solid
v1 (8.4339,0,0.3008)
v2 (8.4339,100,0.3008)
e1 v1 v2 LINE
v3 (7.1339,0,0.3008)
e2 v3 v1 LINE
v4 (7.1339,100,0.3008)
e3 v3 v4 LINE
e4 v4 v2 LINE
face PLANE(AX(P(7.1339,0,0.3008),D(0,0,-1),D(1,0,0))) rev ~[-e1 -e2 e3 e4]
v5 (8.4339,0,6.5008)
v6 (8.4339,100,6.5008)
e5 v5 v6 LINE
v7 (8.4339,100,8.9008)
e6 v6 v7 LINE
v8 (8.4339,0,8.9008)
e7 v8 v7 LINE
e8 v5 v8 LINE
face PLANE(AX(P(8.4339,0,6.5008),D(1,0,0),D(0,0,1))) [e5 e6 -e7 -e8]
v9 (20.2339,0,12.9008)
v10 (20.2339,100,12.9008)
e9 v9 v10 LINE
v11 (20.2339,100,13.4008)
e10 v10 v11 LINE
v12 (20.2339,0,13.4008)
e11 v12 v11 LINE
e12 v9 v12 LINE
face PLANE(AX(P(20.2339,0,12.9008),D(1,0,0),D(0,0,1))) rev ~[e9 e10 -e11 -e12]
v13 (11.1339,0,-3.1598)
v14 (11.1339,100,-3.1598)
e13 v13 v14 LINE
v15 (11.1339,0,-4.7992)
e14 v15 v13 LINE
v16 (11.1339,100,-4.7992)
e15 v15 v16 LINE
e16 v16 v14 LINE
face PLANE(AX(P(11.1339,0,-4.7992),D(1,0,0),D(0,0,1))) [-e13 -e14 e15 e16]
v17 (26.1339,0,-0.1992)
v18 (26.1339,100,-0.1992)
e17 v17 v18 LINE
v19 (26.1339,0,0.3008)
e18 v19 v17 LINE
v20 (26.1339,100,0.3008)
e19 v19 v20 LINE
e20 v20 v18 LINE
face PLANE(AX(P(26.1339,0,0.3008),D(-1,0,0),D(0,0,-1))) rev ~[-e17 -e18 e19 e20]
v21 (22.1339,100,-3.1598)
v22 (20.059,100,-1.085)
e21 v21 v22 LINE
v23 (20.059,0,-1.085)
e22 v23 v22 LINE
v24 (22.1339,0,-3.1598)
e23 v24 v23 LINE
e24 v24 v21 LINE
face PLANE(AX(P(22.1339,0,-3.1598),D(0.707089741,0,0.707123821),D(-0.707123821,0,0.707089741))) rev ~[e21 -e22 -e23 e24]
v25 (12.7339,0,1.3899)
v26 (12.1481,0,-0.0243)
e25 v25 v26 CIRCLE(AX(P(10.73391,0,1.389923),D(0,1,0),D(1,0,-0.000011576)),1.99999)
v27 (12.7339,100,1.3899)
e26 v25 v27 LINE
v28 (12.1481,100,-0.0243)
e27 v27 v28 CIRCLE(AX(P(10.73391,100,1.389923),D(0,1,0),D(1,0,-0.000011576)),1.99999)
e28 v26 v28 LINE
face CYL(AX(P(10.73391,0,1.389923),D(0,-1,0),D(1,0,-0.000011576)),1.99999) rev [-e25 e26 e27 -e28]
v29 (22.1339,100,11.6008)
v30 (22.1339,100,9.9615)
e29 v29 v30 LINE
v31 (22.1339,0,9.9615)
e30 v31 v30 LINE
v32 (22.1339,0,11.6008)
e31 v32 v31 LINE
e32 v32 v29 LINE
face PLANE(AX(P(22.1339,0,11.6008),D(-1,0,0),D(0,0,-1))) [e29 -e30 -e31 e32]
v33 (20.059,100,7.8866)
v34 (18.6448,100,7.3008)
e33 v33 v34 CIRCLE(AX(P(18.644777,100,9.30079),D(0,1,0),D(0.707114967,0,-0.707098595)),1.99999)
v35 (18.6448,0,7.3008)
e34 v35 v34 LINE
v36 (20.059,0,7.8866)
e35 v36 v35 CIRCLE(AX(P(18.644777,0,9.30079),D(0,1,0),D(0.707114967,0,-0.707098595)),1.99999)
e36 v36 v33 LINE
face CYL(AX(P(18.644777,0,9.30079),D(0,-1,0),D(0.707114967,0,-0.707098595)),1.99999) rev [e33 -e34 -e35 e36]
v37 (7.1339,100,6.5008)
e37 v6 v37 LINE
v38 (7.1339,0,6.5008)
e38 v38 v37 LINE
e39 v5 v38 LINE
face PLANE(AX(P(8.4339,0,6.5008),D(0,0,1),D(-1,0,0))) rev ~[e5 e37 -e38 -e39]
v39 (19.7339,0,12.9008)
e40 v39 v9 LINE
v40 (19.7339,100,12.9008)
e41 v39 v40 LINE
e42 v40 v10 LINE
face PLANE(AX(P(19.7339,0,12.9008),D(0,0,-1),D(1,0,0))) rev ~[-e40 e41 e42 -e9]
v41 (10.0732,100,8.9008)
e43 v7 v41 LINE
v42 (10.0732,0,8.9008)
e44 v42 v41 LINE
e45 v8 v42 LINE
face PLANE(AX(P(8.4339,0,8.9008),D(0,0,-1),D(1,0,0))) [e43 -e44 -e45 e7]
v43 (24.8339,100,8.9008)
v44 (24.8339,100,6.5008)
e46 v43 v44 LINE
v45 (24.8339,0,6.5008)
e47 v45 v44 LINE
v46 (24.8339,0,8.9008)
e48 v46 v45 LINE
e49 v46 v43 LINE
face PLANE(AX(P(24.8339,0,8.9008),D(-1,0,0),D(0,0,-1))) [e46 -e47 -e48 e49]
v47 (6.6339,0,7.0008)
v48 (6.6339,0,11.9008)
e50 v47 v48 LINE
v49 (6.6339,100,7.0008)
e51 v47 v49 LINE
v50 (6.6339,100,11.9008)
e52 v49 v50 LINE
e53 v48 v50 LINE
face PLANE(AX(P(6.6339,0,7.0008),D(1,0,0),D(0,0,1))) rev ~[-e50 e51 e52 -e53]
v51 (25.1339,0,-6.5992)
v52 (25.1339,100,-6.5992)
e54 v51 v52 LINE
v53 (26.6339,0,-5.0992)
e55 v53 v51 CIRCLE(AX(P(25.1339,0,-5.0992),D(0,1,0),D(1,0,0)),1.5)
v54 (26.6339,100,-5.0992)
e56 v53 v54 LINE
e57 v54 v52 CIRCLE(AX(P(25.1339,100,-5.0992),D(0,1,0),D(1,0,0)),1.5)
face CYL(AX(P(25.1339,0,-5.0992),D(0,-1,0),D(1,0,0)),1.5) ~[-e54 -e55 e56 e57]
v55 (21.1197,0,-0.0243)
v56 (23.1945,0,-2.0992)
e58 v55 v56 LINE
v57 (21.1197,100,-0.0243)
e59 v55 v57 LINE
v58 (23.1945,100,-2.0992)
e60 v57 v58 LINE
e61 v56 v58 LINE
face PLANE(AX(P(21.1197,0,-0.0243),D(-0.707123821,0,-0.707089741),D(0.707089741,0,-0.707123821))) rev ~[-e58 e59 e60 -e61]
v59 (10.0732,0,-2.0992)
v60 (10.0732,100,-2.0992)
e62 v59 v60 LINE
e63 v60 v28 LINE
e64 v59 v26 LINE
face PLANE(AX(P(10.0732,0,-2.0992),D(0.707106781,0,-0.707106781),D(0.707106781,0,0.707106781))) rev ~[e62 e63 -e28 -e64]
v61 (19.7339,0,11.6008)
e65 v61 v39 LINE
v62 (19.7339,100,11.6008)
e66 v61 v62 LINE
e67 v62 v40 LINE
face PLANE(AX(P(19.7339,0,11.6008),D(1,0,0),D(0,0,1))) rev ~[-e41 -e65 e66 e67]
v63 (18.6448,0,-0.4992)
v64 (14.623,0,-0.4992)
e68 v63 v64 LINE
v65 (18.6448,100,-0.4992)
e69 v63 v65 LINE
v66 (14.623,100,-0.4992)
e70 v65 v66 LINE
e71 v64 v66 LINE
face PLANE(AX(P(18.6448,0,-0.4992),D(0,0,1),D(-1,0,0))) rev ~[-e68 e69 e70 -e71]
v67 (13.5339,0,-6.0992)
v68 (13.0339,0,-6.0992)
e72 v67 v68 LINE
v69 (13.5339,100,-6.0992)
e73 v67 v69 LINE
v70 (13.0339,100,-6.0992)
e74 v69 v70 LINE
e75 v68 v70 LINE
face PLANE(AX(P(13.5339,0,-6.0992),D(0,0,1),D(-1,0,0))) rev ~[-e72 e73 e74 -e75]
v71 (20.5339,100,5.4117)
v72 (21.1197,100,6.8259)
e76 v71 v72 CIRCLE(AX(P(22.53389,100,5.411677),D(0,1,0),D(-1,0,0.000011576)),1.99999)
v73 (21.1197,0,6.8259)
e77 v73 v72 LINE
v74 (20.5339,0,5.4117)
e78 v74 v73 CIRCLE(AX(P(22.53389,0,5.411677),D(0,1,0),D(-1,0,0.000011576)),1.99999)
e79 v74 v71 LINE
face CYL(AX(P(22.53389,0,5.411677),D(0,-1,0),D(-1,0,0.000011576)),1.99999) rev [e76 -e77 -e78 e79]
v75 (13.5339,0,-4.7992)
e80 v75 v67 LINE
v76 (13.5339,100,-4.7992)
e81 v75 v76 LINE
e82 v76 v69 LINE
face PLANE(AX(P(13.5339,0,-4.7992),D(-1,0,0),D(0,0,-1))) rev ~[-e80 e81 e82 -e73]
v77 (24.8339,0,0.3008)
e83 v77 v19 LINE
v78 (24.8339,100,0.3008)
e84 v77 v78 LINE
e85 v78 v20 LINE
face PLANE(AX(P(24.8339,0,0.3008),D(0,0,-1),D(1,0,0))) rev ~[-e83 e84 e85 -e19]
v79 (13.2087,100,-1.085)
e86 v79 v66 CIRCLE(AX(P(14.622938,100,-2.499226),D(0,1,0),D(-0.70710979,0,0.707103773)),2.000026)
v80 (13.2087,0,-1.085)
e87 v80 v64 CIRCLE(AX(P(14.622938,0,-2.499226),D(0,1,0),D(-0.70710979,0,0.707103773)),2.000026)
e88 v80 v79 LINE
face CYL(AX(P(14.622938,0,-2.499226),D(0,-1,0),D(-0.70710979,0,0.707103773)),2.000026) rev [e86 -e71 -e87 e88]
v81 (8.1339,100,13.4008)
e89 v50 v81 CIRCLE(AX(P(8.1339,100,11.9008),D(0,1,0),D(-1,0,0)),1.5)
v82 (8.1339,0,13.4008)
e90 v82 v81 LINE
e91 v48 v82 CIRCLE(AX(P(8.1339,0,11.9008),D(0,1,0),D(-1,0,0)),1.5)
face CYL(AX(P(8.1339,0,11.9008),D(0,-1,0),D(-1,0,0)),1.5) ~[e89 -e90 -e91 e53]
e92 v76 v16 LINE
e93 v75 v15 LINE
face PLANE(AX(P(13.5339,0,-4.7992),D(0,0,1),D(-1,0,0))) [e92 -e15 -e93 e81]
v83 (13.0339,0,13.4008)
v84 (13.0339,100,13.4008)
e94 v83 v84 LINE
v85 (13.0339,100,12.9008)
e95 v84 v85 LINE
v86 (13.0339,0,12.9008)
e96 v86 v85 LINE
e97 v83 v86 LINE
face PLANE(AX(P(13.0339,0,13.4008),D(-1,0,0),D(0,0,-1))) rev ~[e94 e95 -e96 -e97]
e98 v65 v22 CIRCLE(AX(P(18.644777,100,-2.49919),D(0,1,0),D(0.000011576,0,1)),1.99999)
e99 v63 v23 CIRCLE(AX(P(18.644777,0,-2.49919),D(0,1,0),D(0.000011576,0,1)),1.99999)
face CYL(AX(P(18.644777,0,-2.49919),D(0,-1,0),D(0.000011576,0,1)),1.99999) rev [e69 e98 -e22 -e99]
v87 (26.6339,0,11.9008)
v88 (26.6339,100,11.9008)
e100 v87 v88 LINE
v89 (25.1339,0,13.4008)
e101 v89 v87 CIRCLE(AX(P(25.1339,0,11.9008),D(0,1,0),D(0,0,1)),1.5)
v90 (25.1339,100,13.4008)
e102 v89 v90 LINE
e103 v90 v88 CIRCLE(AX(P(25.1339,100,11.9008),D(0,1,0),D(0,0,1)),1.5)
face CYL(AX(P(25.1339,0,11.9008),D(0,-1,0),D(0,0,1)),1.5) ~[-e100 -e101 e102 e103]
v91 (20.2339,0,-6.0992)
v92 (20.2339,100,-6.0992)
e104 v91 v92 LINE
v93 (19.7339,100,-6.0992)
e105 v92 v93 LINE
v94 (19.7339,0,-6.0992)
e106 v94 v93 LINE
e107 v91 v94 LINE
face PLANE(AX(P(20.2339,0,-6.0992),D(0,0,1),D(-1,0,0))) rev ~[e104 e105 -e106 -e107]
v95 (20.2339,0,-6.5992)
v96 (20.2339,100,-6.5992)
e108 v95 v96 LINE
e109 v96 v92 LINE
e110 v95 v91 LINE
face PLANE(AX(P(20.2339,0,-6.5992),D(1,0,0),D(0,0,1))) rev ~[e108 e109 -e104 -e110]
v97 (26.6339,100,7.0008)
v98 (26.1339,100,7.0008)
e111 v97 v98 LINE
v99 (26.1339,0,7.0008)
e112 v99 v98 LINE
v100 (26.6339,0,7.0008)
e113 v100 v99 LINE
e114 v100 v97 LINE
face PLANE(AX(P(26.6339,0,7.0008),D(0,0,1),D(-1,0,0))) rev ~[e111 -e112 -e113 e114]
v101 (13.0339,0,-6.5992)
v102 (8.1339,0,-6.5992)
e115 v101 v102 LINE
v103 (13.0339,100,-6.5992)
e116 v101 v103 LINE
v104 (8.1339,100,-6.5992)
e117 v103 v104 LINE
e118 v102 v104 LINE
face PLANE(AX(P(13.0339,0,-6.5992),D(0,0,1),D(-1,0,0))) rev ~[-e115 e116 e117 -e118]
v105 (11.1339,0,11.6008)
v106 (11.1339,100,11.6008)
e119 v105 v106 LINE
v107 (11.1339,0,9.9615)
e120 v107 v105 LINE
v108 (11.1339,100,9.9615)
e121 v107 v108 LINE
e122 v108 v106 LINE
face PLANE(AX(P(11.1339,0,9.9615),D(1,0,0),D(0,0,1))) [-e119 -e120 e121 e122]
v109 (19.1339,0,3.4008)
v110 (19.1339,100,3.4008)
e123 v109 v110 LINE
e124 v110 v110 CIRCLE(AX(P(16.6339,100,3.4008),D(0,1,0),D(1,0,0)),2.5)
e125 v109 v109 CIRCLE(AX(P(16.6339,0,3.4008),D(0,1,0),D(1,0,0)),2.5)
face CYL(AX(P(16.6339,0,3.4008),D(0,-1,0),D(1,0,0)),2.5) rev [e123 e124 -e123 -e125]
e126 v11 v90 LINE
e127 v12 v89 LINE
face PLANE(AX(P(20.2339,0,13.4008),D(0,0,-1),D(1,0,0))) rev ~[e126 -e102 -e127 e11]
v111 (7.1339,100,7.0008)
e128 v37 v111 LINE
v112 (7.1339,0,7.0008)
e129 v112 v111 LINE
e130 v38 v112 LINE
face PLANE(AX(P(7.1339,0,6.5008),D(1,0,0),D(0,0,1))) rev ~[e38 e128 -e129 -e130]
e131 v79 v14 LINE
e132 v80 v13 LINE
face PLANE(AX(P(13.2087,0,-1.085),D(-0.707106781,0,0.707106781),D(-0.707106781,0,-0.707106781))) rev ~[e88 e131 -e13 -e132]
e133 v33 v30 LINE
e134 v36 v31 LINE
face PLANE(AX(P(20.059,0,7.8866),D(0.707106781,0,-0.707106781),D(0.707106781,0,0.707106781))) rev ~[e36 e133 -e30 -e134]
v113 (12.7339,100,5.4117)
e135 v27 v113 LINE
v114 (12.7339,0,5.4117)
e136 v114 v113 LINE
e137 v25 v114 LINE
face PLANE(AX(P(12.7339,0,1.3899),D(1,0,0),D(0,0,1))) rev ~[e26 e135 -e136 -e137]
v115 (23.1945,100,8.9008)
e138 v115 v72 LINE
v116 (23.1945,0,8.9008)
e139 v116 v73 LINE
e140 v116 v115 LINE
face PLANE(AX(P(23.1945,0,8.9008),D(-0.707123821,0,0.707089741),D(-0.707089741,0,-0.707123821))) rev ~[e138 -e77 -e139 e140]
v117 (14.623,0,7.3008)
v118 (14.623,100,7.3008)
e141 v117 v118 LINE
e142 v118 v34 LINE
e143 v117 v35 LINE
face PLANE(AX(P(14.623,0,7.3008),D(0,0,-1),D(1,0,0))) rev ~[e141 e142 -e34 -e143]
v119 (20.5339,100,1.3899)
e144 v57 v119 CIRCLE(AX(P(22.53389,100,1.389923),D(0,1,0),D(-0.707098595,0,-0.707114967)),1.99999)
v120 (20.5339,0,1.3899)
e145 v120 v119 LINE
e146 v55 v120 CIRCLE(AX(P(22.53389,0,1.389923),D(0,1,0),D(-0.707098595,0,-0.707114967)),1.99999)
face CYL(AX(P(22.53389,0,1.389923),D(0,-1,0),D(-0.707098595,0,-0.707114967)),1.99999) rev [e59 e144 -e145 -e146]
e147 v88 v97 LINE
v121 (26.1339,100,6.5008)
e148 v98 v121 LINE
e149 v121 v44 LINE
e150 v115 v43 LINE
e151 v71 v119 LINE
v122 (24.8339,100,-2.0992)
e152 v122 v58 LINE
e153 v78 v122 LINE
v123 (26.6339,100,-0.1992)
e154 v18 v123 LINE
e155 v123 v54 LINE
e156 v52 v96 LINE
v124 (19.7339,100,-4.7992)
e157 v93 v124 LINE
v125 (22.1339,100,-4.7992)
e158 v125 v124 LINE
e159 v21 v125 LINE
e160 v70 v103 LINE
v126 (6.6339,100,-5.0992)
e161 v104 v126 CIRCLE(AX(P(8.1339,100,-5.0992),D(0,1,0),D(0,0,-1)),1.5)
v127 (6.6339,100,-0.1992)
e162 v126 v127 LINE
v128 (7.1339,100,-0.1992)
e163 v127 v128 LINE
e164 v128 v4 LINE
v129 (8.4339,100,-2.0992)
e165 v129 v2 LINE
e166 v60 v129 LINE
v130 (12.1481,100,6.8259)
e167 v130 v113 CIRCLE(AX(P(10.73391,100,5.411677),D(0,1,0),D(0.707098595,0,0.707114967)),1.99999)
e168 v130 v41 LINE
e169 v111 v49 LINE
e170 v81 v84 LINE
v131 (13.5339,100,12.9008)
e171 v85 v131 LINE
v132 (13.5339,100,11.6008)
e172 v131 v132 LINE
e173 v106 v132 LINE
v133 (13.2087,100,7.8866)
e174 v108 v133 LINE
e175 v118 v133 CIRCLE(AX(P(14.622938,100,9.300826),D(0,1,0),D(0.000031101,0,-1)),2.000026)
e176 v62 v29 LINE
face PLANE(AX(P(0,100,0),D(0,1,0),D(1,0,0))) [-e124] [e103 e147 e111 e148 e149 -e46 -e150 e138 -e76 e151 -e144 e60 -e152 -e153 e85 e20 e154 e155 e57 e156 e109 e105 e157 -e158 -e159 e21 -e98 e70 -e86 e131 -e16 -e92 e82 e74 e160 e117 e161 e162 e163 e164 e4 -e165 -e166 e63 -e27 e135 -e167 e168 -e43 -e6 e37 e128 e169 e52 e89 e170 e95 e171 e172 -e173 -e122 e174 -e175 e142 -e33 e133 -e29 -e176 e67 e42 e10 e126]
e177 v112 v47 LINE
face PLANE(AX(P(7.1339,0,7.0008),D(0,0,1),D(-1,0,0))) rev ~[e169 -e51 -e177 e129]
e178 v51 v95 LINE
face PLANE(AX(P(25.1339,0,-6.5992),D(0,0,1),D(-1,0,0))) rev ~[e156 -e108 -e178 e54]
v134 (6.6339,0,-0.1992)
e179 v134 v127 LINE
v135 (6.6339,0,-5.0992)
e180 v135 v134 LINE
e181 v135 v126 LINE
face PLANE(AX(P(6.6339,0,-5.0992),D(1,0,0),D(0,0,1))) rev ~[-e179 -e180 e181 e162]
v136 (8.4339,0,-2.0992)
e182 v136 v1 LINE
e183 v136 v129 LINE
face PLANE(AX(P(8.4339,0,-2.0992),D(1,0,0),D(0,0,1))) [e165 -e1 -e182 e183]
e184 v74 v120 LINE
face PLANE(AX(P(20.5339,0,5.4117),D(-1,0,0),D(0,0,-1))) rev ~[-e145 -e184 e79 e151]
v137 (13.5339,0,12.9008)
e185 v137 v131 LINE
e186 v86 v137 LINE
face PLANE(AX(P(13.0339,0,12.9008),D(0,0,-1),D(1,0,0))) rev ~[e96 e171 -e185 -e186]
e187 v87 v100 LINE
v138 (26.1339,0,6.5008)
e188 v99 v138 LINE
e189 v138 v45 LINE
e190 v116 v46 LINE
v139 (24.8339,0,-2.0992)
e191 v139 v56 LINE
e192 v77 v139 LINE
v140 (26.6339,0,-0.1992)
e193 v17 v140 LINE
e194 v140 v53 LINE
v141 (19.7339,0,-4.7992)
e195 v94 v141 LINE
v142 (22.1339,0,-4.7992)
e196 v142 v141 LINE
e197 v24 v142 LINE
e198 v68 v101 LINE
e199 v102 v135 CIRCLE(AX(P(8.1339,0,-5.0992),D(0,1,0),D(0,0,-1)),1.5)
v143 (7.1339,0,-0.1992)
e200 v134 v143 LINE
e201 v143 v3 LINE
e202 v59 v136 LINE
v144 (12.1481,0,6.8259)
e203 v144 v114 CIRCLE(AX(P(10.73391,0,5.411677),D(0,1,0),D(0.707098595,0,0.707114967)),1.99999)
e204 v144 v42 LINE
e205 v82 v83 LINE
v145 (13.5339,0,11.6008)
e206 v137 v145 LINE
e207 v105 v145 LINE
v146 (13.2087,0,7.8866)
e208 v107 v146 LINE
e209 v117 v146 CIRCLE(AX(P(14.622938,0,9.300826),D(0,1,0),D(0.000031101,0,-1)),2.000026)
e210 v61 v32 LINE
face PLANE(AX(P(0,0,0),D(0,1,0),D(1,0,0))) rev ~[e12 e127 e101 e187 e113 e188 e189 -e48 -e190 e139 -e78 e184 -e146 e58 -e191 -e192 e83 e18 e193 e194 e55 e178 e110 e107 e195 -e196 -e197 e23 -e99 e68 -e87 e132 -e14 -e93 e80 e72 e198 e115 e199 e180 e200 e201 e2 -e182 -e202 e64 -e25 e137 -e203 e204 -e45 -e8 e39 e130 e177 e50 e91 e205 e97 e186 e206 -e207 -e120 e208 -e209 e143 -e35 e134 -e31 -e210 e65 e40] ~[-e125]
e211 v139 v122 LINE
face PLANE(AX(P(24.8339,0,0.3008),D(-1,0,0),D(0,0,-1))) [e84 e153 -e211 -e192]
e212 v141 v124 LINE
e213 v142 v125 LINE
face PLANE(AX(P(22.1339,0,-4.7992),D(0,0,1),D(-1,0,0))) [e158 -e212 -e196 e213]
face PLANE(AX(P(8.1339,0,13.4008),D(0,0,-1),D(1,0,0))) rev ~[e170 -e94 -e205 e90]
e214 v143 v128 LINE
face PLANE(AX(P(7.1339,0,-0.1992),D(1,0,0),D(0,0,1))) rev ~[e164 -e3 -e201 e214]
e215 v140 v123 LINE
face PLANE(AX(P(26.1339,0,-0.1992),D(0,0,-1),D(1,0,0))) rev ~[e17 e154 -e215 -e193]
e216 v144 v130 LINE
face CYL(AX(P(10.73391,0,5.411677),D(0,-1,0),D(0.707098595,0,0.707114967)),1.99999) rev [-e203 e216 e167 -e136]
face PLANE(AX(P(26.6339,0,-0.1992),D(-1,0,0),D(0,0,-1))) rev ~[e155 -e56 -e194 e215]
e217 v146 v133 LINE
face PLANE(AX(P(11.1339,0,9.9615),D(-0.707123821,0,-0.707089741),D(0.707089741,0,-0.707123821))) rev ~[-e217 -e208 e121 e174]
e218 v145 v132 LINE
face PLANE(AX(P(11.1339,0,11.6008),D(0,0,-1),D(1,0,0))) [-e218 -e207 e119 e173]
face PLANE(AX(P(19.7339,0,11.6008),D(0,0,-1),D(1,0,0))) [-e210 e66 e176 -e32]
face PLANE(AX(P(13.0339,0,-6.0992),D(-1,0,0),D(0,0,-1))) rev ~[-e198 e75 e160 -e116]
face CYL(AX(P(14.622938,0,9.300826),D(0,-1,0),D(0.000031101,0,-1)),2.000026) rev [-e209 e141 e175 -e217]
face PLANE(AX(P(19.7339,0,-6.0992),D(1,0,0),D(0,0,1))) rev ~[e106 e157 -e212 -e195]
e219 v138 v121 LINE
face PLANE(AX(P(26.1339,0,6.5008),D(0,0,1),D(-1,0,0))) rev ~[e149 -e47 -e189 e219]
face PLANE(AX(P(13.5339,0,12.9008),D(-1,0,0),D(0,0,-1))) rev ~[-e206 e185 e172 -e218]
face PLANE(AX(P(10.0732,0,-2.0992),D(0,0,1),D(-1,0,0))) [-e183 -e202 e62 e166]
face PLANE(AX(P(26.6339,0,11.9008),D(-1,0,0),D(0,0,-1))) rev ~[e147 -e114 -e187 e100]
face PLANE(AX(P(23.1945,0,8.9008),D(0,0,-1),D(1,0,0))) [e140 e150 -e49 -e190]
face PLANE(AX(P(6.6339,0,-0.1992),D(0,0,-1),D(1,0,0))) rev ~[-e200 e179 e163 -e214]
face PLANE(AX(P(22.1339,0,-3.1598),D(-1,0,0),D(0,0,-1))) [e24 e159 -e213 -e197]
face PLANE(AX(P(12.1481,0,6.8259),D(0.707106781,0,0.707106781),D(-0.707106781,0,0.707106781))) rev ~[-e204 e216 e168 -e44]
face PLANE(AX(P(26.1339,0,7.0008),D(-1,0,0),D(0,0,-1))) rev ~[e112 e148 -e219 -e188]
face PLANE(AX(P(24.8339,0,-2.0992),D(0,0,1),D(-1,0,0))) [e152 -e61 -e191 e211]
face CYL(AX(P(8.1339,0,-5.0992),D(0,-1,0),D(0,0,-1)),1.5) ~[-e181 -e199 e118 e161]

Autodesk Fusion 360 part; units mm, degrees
sketch "Sketch1" plane through (0, 0, 0) normal (0, 1, 0) x (1, 0, 0)
  circle A0 centre (16.6339, -3.4008) radius 2.5
  line L0 (13.0339, 6.0992) -> (13.0339, 6.5992)
  line L1 (6.6339, 0.1992) -> (7.1339, 0.1992)
  line L2 (6.6339, 0.1992) -> (7.1339, 0.1992)
  line L3 (10.0732, 2.0992) -> (8.4339, 2.0992)
  line L4 (11.1339, 4.7992) -> (11.1339, 3.1598)
  line L5 (13.5339, 4.7992) -> (13.5339, 6.0992)
  line L6 (20.2339, 6.5992) -> (20.2339, 6.0992)
  line L7 (19.7339, 6.0992) -> (19.7339, 4.7992)
  line L8 (22.1339, 4.7992) -> (19.7339, 4.7992)
  line L9 (13.5339, 4.7992) -> (11.1339, 4.7992)
  line L10 (20.2339, 6.0992) -> (19.7339, 6.0992)
  line L11 (13.5339, 6.0992) -> (13.0339, 6.0992)
  line L12 (25.1339, 6.5992) -> (20.2339, 6.5992)
  line L13 (13.0339, 6.5992) -> (8.1339, 6.5992)
  line L14 (22.1339, 3.1598) -> (22.1339, 4.7992)
  line L15 (24.8339, 2.0992) -> (23.1945, 2.0992)
  line L16 (26.1339, 0.1992) -> (26.6339, 0.1992)
  line L17 (26.1339, 0.1992) -> (26.6339, 0.1992)
  line L18 (22.1339, 0.1992) -> (22.1339, 0.2882)
  line L19 (24.8339, -0.3008) -> (26.1339, -0.3008)
  line L20 (24.8339, -0.3008) -> (26.1339, -0.3008)
  line L21 (24.8339, -8.9008) -> (24.8339, -6.5008)
  line L22 (24.8339, -0.3008) -> (24.8339, 2.0992)
  line L23 (24.8339, -0.3008) -> (24.8339, 2.0992)
  line L24 (26.1339, -7.0008) -> (26.1339, -6.5008)
  line L25 (26.1339, -0.3008) -> (26.1339, 0.1992)
  line L26 (26.6339, -11.9008) -> (26.6339, -7.0008)
  line L27 (26.6339, 0.1992) -> (26.6339, 5.0992)
  line L28 (20.5339, -5.4117) -> (20.5339, -1.3899)
  line L29 (22.1339, 3.1598) -> (20.059, 1.085)
  line L30 (13.2087, 1.085) -> (11.1339, 3.1598)
  line L31 (12.7339, -1.3899) -> (12.7339, -5.4117)
  line L32 (11.1339, 0.1992) -> (11.2666, 0.1992)
  line L33 (18.6448, 0.4992) -> (14.623, 0.4992)
  line L34 (7.1339, -0.3008) -> (8.4339, -0.3008)
  line L35 (16.6339, -3.4008) -> (14.8661, -1.6331) construction
  line L36 (12.7339, 0.4992) -> (6.6339, 6.5992) construction
  line L37 (6.6339, 6.5992) -> (12.7339, 0.4992) construction
  line L38 (13.5339, -1.3615) -> (13.5339, -1.3216)
  line L39 (21.1197, 0.0243) -> (23.1945, 2.0992)
  line L40 (20.059, -7.8866) -> (22.1339, -9.9615)
  line L41 (14.8661, -1.6331) -> (17.1642, -3.9311) construction
  line L42 (26.6339, 6.5992) -> (16.1035, -3.9311) construction
  line L43 (15.0967, -3.8773) -> (14.9766, -3.9974)
  line L44 (15.854, -3.1201) -> (15.8242, -3.1498)
  line L45 (13.0339, -0.9862) -> (13.0339, -0.8615)
  line L46 (10.0732, 2.0992) -> (12.1481, 0.0243)
  line L47 (20.2339, -4.5168) -> (20.2339, -4.6968)
  line L48 (11.1339, -9.9615) -> (11.1339, -11.6008)
  line L49 (8.4339, 2.0992) -> (8.4339, -0.3008)
  line L50 (8.4339, -6.5008) -> (8.4339, -8.9008)
  line L51 (7.1339, 0.1992) -> (7.1339, -0.3008)
  line L52 (7.1339, -0.3008) -> (8.4339, -0.3008)
  line L53 (8.4339, 2.0992) -> (8.4339, -0.3008)
  line L54 (8.4339, -6.5008) -> (8.4339, -8.9008)
  line L55 (6.6339, 5.0992) -> (6.6339, 0.1992)
  line L56 (6.6339, -7.0008) -> (6.6339, -11.9008)
  line L57 (7.1339, -7.0008) -> (6.6339, -7.0008)
  line L58 (8.4339, -6.5008) -> (7.1339, -6.5008)
  line L59 (8.4339, -6.5008) -> (7.1339, -6.5008)
  line L60 (7.1339, -7.0008) -> (6.6339, -7.0008)
  line L61 (7.1339, -6.5008) -> (7.1339, -7.0008)
  line L62 (12.1481, -6.8259) -> (10.0732, -8.9008)
  line L63 (7.1339, -12.9008) -> (6.6339, -13.4008) construction
  line L64 (11.1339, -11.6008) -> (13.5339, -11.6008)
  line L65 (19.7339, -11.6008) -> (22.1339, -11.6008)
  line L66 (13.0339, -12.9008) -> (13.5339, -12.9008)
  line L67 (19.7339, -12.9008) -> (20.2339, -12.9008)
  line L68 (20.2339, -13.4008) -> (25.1339, -13.4008)
  line L69 (8.4339, -8.9008) -> (10.0732, -8.9008)
  line L70 (13.5339, -12.9008) -> (13.5339, -11.6008)
  line L71 (13.0339, -13.4008) -> (13.0339, -12.9008)
  line L72 (26.1339, -6.5008) -> (24.8339, -6.5008)
  line L73 (26.1339, -6.5008) -> (24.8339, -6.5008)
  line L74 (26.6339, -7.0008) -> (26.1339, -7.0008)
  line L75 (26.6339, -7.0008) -> (26.1339, -7.0008)
  line L76 (24.8339, -8.9008) -> (24.8339, -6.5008)
  line L77 (22.1339, -11.6008) -> (22.1339, -9.9615)
  line L78 (23.1945, -8.9008) -> (24.8339, -8.9008)
  line L79 (23.1945, -8.9008) -> (21.1197, -6.8259)
  line L80 (11.1339, -9.9615) -> (13.2087, -7.8866)
  line L81 (14.8661, -5.1686) -> (13.5339, -6.5008) construction
  line L82 (11.1339, -8.9008) -> (8.4339, -11.6008) construction
  line L83 (19.7339, -11.6008) -> (19.7339, -12.9008)
  line L84 (20.2339, -12.9008) -> (20.2339, -13.4008)
  line L85 (18.4016, -5.1686) -> (19.7339, -6.5008) construction
  line L86 (20.5339, -7.3008) -> (26.6339, -13.4008) construction
  line L87 (14.623, -7.3008) -> (18.6448, -7.3008)
  arc A1 (26.6339, 5.0992) -> (25.1339, 6.5992) centre (25.1339, 5.0992) ccw
  arc A2 (8.1339, 6.5992) -> (6.6339, 5.0992) centre (8.1339, 5.0992) ccw
  arc A3 (6.6339, -11.9008) -> (8.1339, -13.4008) centre (8.1339, -11.9008) ccw
  arc A4 (25.1339, -13.4008) -> (26.6339, -11.9008) centre (25.1339, -11.9008) ccw
  arc A5 (13.2087, 1.085) -> (14.623, 0.4992) centre (14.623, 2.4992) ccw
  arc A6 (18.6448, 0.4992) -> (20.059, 1.085) centre (18.6448, 2.4992) ccw
  arc A7 (21.1197, 0.0243) -> (20.5339, -1.3899) centre (22.5339, -1.3899) ccw
  arc A8 (20.5339, -5.4117) -> (21.1197, -6.8259) centre (22.5339, -5.4117) ccw
  arc A9 (20.059, -7.8866) -> (18.6448, -7.3008) centre (18.6448, -9.3008) ccw
  arc A10 (14.623, -7.3008) -> (13.2087, -7.8866) centre (14.623, -9.3008) ccw
  arc A11 (12.1481, -6.8259) -> (12.7339, -5.4117) centre (10.7339, -5.4117) ccw
  arc A12 (12.7339, -1.3899) -> (12.1481, 0.0243) centre (10.7339, -1.3899) ccw
  line L88 (8.1339, -13.4008) -> (13.0339, -13.4008)
  dimension "d1" = 5
  dimension "d2" = 20
  dimension "d3" = 20
  dimension "d8" = 7.2
  dimension "d10" = 7.2
  dimension "d12" = 7.2
  dimension "d14" = 11
  dimension "d15" = 11
  dimension "d17" = 1.5
  dimension "d18" = 1.5
  dimension "d19" = 2
extrude "Extrude1" add sketch "Sketch1" along normal blind 100
equation "Length = 100 mm"
